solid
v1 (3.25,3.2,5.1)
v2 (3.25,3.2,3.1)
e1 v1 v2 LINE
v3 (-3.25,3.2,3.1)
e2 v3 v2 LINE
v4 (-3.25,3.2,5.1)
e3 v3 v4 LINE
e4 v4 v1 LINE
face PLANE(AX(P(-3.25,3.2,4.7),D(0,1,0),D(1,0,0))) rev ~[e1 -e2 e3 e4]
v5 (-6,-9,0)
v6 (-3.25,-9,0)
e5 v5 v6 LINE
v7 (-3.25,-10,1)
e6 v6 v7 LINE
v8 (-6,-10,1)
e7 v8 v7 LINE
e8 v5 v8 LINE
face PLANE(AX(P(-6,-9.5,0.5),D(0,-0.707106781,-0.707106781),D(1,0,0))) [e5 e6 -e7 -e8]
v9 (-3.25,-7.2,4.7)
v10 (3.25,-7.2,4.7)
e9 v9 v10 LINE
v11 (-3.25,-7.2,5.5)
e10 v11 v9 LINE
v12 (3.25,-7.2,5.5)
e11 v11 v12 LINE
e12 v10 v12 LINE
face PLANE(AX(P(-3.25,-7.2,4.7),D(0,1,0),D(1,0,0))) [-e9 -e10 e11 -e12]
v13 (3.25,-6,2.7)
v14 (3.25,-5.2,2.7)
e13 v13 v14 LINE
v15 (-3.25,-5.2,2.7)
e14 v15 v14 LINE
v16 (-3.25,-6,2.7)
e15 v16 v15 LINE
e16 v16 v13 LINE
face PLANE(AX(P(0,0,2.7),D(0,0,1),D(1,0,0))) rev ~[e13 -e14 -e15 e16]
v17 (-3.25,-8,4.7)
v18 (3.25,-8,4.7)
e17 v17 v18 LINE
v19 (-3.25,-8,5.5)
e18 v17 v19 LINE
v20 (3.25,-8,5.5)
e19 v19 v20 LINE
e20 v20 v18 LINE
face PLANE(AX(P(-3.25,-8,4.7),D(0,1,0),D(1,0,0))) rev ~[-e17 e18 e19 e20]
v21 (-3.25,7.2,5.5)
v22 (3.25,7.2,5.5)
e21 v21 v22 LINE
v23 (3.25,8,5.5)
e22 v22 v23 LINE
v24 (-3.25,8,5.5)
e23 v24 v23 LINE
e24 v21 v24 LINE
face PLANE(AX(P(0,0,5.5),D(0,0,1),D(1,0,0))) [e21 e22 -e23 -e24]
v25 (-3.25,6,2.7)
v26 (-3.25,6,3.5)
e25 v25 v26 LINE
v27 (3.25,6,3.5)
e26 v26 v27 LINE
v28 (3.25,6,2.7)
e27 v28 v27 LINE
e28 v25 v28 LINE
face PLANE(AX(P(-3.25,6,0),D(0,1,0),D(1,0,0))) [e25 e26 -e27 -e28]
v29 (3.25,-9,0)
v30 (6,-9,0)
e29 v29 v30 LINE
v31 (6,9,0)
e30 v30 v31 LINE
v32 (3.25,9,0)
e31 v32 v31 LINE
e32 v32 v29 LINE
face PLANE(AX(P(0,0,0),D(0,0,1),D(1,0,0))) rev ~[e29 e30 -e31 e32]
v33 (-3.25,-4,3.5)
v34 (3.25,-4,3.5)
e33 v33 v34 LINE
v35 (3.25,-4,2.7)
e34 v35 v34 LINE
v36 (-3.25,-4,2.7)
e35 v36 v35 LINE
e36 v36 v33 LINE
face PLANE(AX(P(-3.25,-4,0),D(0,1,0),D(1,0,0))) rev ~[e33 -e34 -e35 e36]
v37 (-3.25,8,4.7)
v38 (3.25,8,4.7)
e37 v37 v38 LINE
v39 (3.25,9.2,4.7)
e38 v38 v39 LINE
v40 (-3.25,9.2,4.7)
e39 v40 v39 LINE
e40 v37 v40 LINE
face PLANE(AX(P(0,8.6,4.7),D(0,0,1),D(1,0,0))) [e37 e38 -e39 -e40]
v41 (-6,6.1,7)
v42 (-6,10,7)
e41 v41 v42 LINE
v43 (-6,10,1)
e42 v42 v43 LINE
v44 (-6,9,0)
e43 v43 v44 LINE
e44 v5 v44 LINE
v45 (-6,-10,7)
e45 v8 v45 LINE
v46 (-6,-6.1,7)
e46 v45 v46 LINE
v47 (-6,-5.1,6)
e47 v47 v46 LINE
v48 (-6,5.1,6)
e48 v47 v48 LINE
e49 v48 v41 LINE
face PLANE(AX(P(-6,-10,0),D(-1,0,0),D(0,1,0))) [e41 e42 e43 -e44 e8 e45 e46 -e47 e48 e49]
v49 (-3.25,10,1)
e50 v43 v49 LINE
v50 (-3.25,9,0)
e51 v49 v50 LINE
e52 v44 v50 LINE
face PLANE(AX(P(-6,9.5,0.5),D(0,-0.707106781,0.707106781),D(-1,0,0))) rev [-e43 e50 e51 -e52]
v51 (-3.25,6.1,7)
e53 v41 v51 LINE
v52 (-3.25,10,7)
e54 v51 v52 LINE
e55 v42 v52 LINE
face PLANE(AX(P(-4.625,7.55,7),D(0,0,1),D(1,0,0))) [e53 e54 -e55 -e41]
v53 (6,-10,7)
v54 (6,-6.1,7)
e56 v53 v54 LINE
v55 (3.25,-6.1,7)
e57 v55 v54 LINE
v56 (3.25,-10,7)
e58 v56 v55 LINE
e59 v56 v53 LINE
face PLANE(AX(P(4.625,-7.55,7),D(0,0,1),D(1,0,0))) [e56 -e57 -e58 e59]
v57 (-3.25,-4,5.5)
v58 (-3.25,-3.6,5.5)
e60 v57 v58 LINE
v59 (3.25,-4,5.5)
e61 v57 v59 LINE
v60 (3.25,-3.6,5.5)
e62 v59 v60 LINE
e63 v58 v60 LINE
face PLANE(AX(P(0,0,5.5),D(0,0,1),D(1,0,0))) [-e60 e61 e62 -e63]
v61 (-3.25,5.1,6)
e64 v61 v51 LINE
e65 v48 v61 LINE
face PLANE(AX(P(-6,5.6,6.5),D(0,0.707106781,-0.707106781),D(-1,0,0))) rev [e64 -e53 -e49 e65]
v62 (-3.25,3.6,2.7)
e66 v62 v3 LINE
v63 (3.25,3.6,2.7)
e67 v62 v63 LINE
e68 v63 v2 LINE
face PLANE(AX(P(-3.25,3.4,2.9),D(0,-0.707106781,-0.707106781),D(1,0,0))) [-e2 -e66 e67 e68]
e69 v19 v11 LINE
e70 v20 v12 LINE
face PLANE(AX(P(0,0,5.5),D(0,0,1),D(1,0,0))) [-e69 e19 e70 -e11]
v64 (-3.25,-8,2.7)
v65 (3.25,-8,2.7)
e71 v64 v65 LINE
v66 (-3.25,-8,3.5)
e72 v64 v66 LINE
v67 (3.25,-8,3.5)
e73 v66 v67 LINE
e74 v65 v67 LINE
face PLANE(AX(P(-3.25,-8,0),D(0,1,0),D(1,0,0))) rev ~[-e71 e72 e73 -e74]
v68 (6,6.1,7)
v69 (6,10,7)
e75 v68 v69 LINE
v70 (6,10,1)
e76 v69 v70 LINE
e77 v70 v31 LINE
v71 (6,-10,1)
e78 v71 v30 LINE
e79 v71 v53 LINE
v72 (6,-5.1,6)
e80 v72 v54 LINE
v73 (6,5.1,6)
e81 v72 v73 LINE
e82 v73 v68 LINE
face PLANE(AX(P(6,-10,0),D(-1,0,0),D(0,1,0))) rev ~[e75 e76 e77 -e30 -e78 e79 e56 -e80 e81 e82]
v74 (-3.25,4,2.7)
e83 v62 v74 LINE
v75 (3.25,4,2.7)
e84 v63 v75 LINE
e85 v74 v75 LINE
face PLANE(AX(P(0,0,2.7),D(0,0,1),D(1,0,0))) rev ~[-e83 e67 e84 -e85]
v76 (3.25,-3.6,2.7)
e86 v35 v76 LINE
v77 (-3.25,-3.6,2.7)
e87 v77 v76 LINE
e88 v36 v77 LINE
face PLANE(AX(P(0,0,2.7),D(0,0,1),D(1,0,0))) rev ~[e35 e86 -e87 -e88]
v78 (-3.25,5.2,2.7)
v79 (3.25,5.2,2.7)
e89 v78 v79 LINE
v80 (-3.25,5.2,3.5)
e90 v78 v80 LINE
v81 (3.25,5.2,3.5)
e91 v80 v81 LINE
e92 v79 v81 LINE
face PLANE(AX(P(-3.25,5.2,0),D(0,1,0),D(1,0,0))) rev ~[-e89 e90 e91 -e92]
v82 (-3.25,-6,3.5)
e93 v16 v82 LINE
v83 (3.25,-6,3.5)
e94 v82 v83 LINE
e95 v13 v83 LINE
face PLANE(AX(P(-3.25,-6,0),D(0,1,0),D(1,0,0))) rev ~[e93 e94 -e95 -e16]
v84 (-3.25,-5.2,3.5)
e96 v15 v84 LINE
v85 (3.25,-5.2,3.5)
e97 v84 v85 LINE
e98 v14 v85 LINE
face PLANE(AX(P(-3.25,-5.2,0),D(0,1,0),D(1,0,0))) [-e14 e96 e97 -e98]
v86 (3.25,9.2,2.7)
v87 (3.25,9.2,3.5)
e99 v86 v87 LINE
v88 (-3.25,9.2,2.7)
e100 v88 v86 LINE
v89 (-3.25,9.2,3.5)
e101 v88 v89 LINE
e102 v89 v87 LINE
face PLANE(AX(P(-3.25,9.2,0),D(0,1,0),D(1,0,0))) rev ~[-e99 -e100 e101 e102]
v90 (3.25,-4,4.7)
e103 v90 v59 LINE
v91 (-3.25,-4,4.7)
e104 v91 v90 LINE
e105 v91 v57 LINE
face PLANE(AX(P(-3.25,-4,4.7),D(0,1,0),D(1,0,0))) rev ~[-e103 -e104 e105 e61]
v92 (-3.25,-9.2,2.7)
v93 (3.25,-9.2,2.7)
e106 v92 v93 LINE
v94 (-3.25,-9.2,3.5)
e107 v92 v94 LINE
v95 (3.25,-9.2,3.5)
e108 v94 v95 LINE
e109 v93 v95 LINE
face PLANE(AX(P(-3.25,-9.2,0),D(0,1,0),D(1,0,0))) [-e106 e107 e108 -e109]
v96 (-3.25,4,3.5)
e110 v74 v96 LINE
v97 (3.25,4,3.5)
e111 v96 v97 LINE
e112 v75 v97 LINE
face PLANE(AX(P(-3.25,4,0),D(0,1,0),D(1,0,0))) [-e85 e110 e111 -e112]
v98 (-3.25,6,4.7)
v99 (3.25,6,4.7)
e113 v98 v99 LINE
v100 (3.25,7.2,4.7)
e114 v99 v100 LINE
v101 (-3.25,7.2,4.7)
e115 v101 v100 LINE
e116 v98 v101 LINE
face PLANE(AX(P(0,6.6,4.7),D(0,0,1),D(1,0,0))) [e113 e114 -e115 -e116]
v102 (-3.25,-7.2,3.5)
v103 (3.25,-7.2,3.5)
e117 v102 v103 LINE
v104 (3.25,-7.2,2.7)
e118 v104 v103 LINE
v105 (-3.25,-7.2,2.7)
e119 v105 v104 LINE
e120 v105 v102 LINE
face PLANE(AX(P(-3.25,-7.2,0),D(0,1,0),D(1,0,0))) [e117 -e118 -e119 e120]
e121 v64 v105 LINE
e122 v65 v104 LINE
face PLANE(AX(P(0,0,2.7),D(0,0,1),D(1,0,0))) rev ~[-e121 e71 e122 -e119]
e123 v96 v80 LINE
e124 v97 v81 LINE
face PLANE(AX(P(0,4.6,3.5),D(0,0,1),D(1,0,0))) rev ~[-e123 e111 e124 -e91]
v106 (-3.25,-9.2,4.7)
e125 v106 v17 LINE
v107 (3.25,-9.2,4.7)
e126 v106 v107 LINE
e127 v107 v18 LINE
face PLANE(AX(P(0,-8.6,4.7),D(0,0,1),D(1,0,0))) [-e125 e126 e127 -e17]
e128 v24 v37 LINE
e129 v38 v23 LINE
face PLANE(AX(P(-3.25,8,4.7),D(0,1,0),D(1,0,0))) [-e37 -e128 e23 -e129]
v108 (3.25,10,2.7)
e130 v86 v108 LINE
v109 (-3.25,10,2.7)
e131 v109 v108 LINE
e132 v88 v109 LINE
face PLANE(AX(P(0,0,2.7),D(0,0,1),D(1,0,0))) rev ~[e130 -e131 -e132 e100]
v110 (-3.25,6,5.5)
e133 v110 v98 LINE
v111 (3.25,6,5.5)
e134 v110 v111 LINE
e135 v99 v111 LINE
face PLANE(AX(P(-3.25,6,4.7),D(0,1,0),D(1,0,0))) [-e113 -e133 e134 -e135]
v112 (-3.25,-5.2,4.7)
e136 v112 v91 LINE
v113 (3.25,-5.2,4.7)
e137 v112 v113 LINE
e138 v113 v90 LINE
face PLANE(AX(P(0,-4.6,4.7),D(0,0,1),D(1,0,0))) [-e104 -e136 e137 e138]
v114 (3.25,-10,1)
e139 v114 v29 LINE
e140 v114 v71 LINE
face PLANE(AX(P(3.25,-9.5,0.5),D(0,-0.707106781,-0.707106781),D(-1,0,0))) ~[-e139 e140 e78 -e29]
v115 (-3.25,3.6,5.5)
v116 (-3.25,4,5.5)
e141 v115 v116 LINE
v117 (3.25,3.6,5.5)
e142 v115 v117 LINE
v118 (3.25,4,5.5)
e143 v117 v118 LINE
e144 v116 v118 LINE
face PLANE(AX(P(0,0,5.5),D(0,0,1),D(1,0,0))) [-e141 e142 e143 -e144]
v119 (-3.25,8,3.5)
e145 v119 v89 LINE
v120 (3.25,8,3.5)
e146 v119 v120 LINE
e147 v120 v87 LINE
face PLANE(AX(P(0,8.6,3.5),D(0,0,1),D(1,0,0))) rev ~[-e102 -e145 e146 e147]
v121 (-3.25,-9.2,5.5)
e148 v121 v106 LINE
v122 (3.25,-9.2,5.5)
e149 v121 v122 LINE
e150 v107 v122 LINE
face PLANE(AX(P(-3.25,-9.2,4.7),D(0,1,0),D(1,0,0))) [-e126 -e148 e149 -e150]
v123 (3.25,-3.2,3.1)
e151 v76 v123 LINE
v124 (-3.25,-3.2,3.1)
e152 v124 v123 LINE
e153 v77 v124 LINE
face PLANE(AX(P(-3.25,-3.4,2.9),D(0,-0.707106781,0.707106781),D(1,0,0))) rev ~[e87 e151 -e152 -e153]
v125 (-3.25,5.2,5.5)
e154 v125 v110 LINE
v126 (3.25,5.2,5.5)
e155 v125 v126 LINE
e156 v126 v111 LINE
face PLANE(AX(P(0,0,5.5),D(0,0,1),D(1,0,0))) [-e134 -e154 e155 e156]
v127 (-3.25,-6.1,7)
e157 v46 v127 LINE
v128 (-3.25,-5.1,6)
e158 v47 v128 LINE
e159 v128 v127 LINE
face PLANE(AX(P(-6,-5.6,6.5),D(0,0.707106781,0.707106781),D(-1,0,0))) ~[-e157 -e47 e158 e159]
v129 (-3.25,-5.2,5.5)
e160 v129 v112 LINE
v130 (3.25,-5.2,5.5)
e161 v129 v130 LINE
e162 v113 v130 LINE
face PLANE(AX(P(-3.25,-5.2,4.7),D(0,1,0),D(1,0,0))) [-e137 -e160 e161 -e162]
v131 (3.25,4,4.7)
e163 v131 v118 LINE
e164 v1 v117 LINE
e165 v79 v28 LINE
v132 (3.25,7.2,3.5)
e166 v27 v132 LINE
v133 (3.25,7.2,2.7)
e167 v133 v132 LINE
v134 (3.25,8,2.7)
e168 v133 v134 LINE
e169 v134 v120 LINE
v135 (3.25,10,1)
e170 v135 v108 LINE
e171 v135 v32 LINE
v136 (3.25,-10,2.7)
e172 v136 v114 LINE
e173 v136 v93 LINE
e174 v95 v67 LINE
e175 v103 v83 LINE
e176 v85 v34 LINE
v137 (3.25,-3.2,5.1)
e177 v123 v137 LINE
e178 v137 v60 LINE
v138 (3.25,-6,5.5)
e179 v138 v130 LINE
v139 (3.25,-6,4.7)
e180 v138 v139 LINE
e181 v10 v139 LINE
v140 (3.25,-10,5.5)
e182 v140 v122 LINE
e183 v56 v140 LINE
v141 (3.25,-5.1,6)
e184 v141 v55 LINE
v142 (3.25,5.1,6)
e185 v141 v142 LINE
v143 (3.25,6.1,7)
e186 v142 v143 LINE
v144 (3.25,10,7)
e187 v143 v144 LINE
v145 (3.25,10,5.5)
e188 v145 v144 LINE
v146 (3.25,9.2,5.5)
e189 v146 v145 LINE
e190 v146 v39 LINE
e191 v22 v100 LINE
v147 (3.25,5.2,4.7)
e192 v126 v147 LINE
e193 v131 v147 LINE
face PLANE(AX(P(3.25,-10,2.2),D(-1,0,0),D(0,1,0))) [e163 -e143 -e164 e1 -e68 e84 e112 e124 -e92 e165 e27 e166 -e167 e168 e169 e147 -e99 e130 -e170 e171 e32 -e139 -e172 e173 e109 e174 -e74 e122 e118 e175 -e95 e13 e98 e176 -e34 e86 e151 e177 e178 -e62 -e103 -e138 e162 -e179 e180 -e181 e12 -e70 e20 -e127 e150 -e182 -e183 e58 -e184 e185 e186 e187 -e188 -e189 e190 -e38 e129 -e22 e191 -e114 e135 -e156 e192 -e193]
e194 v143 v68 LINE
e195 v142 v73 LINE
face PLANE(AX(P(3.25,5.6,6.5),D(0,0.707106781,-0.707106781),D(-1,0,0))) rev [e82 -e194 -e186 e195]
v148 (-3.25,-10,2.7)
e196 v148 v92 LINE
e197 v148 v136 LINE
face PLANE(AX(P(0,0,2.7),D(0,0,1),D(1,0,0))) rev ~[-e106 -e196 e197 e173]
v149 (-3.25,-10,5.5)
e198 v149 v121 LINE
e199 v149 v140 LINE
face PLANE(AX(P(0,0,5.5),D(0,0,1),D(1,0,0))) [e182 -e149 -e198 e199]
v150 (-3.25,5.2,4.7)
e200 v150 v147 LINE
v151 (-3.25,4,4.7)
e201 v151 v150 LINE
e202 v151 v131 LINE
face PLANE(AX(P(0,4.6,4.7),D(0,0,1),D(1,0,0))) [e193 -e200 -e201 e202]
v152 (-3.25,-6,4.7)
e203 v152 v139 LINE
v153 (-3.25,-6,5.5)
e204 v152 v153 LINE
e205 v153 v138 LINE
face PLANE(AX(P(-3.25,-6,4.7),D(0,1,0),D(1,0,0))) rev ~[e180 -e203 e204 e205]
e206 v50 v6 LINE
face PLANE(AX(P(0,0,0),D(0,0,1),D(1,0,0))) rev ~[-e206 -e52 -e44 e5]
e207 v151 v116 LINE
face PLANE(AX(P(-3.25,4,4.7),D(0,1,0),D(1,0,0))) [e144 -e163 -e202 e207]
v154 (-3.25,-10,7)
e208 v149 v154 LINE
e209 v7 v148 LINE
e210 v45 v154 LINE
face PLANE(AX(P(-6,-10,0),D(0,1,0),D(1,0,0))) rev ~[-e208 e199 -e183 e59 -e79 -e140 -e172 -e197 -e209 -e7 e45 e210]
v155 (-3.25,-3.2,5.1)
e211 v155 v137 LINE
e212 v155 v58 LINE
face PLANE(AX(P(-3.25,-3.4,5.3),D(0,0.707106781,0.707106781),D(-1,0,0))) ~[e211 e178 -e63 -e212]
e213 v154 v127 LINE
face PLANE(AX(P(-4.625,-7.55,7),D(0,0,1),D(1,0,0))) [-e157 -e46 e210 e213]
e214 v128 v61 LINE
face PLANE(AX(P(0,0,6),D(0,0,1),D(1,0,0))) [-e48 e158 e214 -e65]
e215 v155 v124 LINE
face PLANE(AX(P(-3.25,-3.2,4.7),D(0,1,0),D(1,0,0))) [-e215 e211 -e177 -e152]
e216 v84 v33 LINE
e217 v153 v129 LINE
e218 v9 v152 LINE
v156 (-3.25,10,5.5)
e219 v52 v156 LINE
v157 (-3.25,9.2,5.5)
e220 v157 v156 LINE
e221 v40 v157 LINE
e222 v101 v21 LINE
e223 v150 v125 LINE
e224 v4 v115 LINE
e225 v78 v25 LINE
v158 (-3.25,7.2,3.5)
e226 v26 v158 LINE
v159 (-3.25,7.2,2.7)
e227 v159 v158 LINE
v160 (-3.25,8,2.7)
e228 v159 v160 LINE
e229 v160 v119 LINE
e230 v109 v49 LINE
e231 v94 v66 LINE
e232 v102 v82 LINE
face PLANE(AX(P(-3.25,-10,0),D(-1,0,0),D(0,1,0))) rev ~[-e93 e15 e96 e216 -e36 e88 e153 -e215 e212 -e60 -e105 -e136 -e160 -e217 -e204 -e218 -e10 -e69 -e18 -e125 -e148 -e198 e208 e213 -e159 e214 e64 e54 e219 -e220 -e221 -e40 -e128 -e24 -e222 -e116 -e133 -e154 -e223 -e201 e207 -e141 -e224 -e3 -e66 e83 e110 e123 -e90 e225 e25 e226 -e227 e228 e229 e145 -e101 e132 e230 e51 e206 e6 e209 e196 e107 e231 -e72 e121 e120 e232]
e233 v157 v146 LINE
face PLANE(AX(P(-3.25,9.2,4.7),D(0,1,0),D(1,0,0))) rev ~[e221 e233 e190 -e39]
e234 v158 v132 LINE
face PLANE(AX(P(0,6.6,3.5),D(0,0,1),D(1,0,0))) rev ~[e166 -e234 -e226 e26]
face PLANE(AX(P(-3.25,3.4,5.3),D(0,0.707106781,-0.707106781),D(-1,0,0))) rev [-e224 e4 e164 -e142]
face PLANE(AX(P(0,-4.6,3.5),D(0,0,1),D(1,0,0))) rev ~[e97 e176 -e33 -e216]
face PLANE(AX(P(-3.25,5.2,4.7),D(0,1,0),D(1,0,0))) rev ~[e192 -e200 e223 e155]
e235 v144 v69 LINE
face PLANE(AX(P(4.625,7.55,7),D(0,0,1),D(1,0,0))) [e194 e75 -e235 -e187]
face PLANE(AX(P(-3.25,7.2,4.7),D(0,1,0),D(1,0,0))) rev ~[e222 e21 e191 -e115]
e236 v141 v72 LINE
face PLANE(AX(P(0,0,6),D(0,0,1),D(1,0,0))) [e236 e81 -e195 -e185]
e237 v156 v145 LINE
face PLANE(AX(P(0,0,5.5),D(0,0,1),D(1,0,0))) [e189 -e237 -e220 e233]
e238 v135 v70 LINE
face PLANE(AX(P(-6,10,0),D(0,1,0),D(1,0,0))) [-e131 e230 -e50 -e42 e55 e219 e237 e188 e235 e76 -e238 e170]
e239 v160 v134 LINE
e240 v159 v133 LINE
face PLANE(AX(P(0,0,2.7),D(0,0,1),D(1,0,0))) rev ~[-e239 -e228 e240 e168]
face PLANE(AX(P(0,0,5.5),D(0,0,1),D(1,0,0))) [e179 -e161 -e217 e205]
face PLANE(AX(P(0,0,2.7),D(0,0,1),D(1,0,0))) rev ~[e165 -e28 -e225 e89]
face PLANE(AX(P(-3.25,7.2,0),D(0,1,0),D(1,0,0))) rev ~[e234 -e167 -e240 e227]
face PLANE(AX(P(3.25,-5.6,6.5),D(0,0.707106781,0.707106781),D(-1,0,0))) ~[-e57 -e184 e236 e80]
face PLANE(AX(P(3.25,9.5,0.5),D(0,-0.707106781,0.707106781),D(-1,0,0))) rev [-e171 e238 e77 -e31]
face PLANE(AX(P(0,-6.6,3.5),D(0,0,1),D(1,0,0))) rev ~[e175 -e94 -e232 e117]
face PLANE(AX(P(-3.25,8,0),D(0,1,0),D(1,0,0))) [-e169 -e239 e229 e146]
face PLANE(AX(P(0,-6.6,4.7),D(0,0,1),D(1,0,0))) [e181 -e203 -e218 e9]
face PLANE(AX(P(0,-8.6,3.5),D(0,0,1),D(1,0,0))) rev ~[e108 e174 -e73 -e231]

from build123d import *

# Parameters (mm, degrees)
BOX041_W              = 2.75
BOX041_H              = 4.9
BOX041_DEPTH          = 2
BOX042_W              = 2.75
BOX042_H              = 4.9
BOX042_DEPTH          = 2
BOX043_W              = 2.75
BOX043_H              = 4.9
BOX043_DEPTH          = 2
BOX040_W              = 2.75
BOX040_H              = 4.9
BOX040_DEPTH          = 2
CHAMFER004013002_SIZE = 1
BOX039_W              = 6.5
BOX039_H              = 20
BOX039_DEPTH          = 0.5
BOX038_W              = 6.5
BOX038_H              = 20
BOX038_DEPTH          = 0.5
BOX037_W              = 6.5
BOX037_H              = 6.4
BOX037_DEPTH          = 10
BOX019_W              = 6.5
BOX019_H              = 1.2
BOX019_DEPTH          = 1.3
BOX025_W              = 6.5
BOX025_H              = 1.2
BOX025_DEPTH          = 1.3
BOX024_W              = 6.5
BOX024_H              = 1.2
BOX024_DEPTH          = 1.3
BOX026_W              = 6.5
BOX026_H              = 1.2
BOX026_DEPTH          = 1.3
BOX021_W              = 6.5
BOX021_H              = 1.2
BOX021_DEPTH          = 1.3
BOX022_W              = 6.5
BOX022_H              = 1.2
BOX022_DEPTH          = 1.3
BOX020_W              = 6.5
BOX020_H              = 1.2
BOX020_DEPTH          = 1.3
BOX027_W              = 6.5
BOX027_H              = 1.2
BOX027_DEPTH          = 1.3
BOX036_W              = 6.5
BOX036_H              = 20
BOX036_DEPTH          = 2.2
BOX034_W              = 6.5
BOX034_H              = 1.2
BOX034_DEPTH          = 3.5
BOX032_W              = 6.5
BOX032_H              = 1.2
BOX032_DEPTH          = 3.5
BOX031_W              = 6.5
BOX031_H              = 5.2
BOX031_DEPTH          = 3.5
BOX035_W              = 6.5
BOX035_H              = 1.2
BOX035_DEPTH          = 3.5
BOX030_W              = 6.5
BOX030_H              = 1.2
BOX030_DEPTH          = 3.5
BOX029_W              = 6.5
BOX029_H              = 1.2
BOX029_DEPTH          = 3.5
BOX028_W              = 6.5
BOX028_H              = 1.2
BOX028_DEPTH          = 3.5
BOX033_W              = 6.5
BOX033_H              = 1.2
BOX033_DEPTH          = 3.5
BOX023_W              = 12
BOX023_H              = 20
BOX023_DEPTH          = 6
CHAMFER004013005_SIZE = 0.4
CHAMFER004013006_SIZE = 1


with BuildPart() as cube040:
    # Box041 → Box041 (new body)
    with BuildSketch(Plane(origin=(3.25, -10, 5), x_dir=(1, 0, 0), z_dir=(0, 0, 1))):
        with Locations((1.375, 2.45)):
            Rectangle(BOX041_W, BOX041_H)
    extrude(amount=BOX041_DEPTH)


with BuildPart() as cube041:
    # Box042 → Box042 (new body)
    with BuildSketch(Plane(origin=(3.25, 5.1, 5), x_dir=(1, 0, 0), z_dir=(0, 0, 1))):
        with Locations((1.375, 2.45)):
            Rectangle(BOX042_W, BOX042_H)
    extrude(amount=BOX042_DEPTH)


with BuildPart() as cube042:
    # Box043 → Box043 (new body)
    with BuildSketch(Plane(origin=(-6, 5.1, 5), x_dir=(1, 0, 0), z_dir=(0, 0, 1))):
        with Locations((1.375, 2.45)):
            Rectangle(BOX043_W, BOX043_H)
    extrude(amount=BOX043_DEPTH)


with BuildPart() as chamfer004013002:
    # Box040 → Box040 (new body)
    with BuildSketch(Plane(origin=(-6, -10, 5), x_dir=(1, 0, 0), z_dir=(0, 0, 1))):
        with Locations((1.375, 2.45)):
            Rectangle(BOX040_W, BOX040_H)
    extrude(amount=BOX040_DEPTH)

    # Fusion001007005013: union Cube040, Cube041, Cube042
    add(cube040.part)
    add(cube041.part)
    add(cube042.part)

    # Chamfer004013002
    chamfer004013002_edges = [chamfer004013002.edges().sort_by_distance(p)[0] for p in [
        (-4.625, -5.1, 7),
        (4.625, -5.1, 7),
        (4.625, 5.1, 7),
        (-4.625, 5.1, 7),
    ]]
    chamfer(chamfer004013002_edges, length=CHAMFER004013002_SIZE)


with BuildPart() as cube038:
    # Box039 → Box039 (new body)
    with BuildSketch(Plane(origin=(-3.25, -10, 5.5), x_dir=(1, 0, 0), z_dir=(0, 0, 1))):
        with Locations((3.25, 10)):
            Rectangle(BOX039_W, BOX039_H)
    extrude(amount=BOX039_DEPTH)


with BuildPart() as fusion001007005017:
    # Box038 → Box038 (new body)
    with BuildSketch(Plane(origin=(-3.25, -10, 2.2), x_dir=(1, 0, 0), z_dir=(0, 0, 1))):
        with Locations((3.25, 10)):
            Rectangle(BOX038_W, BOX038_H)
    extrude(amount=BOX038_DEPTH)

    # Fusion001007005017: union Cube038
    add(cube038.part)


with BuildPart() as cube036:
    # Box037 → Box037 (new body)
    with BuildSketch(Plane(origin=(-3.25, -3.2, 0), x_dir=(1, 0, 0), z_dir=(0, 0, 1))):
        with Locations((3.25, 3.2)):
            Rectangle(BOX037_W, BOX037_H)
    extrude(amount=BOX037_DEPTH)


with BuildPart() as cube018:
    # Box019 → Box019 (new body)
    with BuildSketch(Plane(origin=(-3.25, 2, 0), x_dir=(1, 0, 0), z_dir=(0, 0, 1))):
        with Locations((3.25, 0.6)):
            Rectangle(BOX019_W, BOX019_H)
    extrude(amount=BOX019_DEPTH)


with BuildPart() as cube024:
    # Box025 → Box025 (new body)
    with BuildSketch(Plane(origin=(-3.25, -5.2, 0), x_dir=(1, 0, 0), z_dir=(0, 0, 1))):
        with Locations((3.25, 0.6)):
            Rectangle(BOX025_W, BOX025_H)
    extrude(amount=BOX025_DEPTH)


with BuildPart() as cube023:
    # Box024 → Box024 (new body)
    with BuildSketch(Plane(origin=(-3.25, -3.2, 0), x_dir=(1, 0, 0), z_dir=(0, 0, 1))):
        with Locations((3.25, 0.6)):
            Rectangle(BOX024_W, BOX024_H)
    extrude(amount=BOX024_DEPTH)


with BuildPart() as cube025:
    # Box026 → Box026 (new body)
    with BuildSketch(Plane(origin=(-3.25, -7.2, 0), x_dir=(1, 0, 0), z_dir=(0, 0, 1))):
        with Locations((3.25, 0.6)):
            Rectangle(BOX026_W, BOX026_H)
    extrude(amount=BOX026_DEPTH)


with BuildPart() as cube020:
    # Box021 → Box021 (new body)
    with BuildSketch(Plane(origin=(-3.25, 6, 0), x_dir=(1, 0, 0), z_dir=(0, 0, 1))):
        with Locations((3.25, 0.6)):
            Rectangle(BOX021_W, BOX021_H)
    extrude(amount=BOX021_DEPTH)


with BuildPart() as cube021:
    # Box022 → Box022 (new body)
    with BuildSketch(Plane(origin=(-3.25, 8, 0), x_dir=(1, 0, 0), z_dir=(0, 0, 1))):
        with Locations((3.25, 0.6)):
            Rectangle(BOX022_W, BOX022_H)
    extrude(amount=BOX022_DEPTH)


with BuildPart() as cube019:
    # Box020 → Box020 (new body)
    with BuildSketch(Plane(origin=(-3.25, 4, 0), x_dir=(1, 0, 0), z_dir=(0, 0, 1))):
        with Locations((3.25, 0.6)):
            Rectangle(BOX020_W, BOX020_H)
    extrude(amount=BOX020_DEPTH)


with BuildPart() as fusion001007005012:
    # Box027 → Box027 (new body)
    with BuildSketch(Plane(origin=(-3.25, -9.2, 0), x_dir=(1, 0, 0), z_dir=(0, 0, 1))):
        with Locations((3.25, 0.6)):
            Rectangle(BOX027_W, BOX027_H)
    extrude(amount=BOX027_DEPTH)

    # Fusion001007005012: union Cube018, Cube024, Cube023, Cube025, Cube020, Cube021, Cube019
    add(cube018.part)
    add(cube024.part)
    add(cube023.part)
    add(cube025.part)
    add(cube020.part)
    add(cube021.part)
    add(cube019.part)


with BuildPart() as fusion001007005012_1:
    # Fusion001007005012 placement: moved
    add(fusion001007005012.part.moved(Location((0, 0, 4.7))))


with BuildPart() as cube035:
    # Box036 → Box036 (new body)
    with BuildSketch(Plane(origin=(-3.25, -10, 0), x_dir=(1, 0, 0), z_dir=(0, 0, 1))):
        with Locations((3.25, 10)):
            Rectangle(BOX036_W, BOX036_H)
    extrude(amount=BOX036_DEPTH)


with BuildPart() as cube033:
    # Box034 → Box034 (new body)
    with BuildSketch(Plane(origin=(-3.25, 4, 0), x_dir=(1, 0, 0), z_dir=(0, 0, 1))):
        with Locations((3.25, 0.6)):
            Rectangle(BOX034_W, BOX034_H)
    extrude(amount=BOX034_DEPTH)


with BuildPart() as cube031:
    # Box032 → Box032 (new body)
    with BuildSketch(Plane(origin=(-3.25, 8, 0), x_dir=(1, 0, 0), z_dir=(0, 0, 1))):
        with Locations((3.25, 0.6)):
            Rectangle(BOX032_W, BOX032_H)
    extrude(amount=BOX032_DEPTH)


with BuildPart() as cube030:
    # Box031 → Box031 (new body)
    with BuildSketch(Plane(origin=(-3.25, -3.2, 0), x_dir=(1, 0, 0), z_dir=(0, 0, 1))):
        with Locations((3.25, 2.6)):
            Rectangle(BOX031_W, BOX031_H)
    extrude(amount=BOX031_DEPTH)


with BuildPart() as cube034:
    # Box035 → Box035 (new body)
    with BuildSketch(Plane(origin=(-3.25, 2, 0), x_dir=(1, 0, 0), z_dir=(0, 0, 1))):
        with Locations((3.25, 0.6)):
            Rectangle(BOX035_W, BOX035_H)
    extrude(amount=BOX035_DEPTH)


with BuildPart() as cube029:
    # Box030 → Box030 (new body)
    with BuildSketch(Plane(origin=(-3.25, -5.2, 0), x_dir=(1, 0, 0), z_dir=(0, 0, 1))):
        with Locations((3.25, 0.6)):
            Rectangle(BOX030_W, BOX030_H)
    extrude(amount=BOX030_DEPTH)


with BuildPart() as cube028:
    # Box029 → Box029 (new body)
    with BuildSketch(Plane(origin=(-3.25, -7.2, 0), x_dir=(1, 0, 0), z_dir=(0, 0, 1))):
        with Locations((3.25, 0.6)):
            Rectangle(BOX029_W, BOX029_H)
    extrude(amount=BOX029_DEPTH)


with BuildPart() as cube027:
    # Box028 → Box028 (new body)
    with BuildSketch(Plane(origin=(-3.25, -9.2, 0), x_dir=(1, 0, 0), z_dir=(0, 0, 1))):
        with Locations((3.25, 0.6)):
            Rectangle(BOX028_W, BOX028_H)
    extrude(amount=BOX028_DEPTH)


with BuildPart() as fusion001007005011:
    # Box033 → Box033 (new body)
    with BuildSketch(Plane(origin=(-3.25, 6, 0), x_dir=(1, 0, 0), z_dir=(0, 0, 1))):
        with Locations((3.25, 0.6)):
            Rectangle(BOX033_W, BOX033_H)
    extrude(amount=BOX033_DEPTH)

    # Fusion001007005011: union Cube033, Cube031, Cube030, Cube034, Cube029, Cube028, Cube027
    add(cube033.part)
    add(cube031.part)
    add(cube030.part)
    add(cube034.part)
    add(cube029.part)
    add(cube028.part)
    add(cube027.part)


with BuildPart() as belt_holder:
    # Box023 → Box023 (new body)
    with BuildSketch(Plane(origin=(-6, -10, 0), x_dir=(1, 0, 0), z_dir=(0, 0, 1))):
        with Locations((6, 10)):
            Rectangle(BOX023_W, BOX023_H)
    extrude(amount=BOX023_DEPTH)

    # Cut018: cut Fusion001007005011
    add(fusion001007005011.part, mode=Mode.SUBTRACT)

    # Cut019: cut Cube035
    add(cube035.part, mode=Mode.SUBTRACT)

    # Cut020: cut Fusion001007005012
    add(fusion001007005012_1.part, mode=Mode.SUBTRACT)

    # Cut029: cut Cube036
    add(cube036.part, mode=Mode.SUBTRACT)

    # Cut030: cut Fusion001007005017
    add(fusion001007005017.part, mode=Mode.SUBTRACT)

    # Fusion001007005018: union Chamfer004013002
    add(chamfer004013002.part)

    # Chamfer004013005
    chamfer004013005_edges = [belt_holder.edges().sort_by_distance(p)[0] for p in [
        (0, 3.2, 5.5),
        (0, -3.2, 5.5),
        (0, 3.2, 2.7),
        (0, -3.2, 2.7),
    ]]
    chamfer(chamfer004013005_edges, length=CHAMFER004013005_SIZE)

    # Chamfer004013006
    chamfer004013006_edges = [belt_holder.edges().sort_by_distance(p)[0] for p in [
        (-4.625, -10, 0),
        (4.625, -10, 0),
        (-4.625, 10, 0),
        (4.625, 10, 0),
    ]]
    chamfer(chamfer004013006_edges, length=CHAMFER004013006_SIZE)


solid = belt_holder.part
